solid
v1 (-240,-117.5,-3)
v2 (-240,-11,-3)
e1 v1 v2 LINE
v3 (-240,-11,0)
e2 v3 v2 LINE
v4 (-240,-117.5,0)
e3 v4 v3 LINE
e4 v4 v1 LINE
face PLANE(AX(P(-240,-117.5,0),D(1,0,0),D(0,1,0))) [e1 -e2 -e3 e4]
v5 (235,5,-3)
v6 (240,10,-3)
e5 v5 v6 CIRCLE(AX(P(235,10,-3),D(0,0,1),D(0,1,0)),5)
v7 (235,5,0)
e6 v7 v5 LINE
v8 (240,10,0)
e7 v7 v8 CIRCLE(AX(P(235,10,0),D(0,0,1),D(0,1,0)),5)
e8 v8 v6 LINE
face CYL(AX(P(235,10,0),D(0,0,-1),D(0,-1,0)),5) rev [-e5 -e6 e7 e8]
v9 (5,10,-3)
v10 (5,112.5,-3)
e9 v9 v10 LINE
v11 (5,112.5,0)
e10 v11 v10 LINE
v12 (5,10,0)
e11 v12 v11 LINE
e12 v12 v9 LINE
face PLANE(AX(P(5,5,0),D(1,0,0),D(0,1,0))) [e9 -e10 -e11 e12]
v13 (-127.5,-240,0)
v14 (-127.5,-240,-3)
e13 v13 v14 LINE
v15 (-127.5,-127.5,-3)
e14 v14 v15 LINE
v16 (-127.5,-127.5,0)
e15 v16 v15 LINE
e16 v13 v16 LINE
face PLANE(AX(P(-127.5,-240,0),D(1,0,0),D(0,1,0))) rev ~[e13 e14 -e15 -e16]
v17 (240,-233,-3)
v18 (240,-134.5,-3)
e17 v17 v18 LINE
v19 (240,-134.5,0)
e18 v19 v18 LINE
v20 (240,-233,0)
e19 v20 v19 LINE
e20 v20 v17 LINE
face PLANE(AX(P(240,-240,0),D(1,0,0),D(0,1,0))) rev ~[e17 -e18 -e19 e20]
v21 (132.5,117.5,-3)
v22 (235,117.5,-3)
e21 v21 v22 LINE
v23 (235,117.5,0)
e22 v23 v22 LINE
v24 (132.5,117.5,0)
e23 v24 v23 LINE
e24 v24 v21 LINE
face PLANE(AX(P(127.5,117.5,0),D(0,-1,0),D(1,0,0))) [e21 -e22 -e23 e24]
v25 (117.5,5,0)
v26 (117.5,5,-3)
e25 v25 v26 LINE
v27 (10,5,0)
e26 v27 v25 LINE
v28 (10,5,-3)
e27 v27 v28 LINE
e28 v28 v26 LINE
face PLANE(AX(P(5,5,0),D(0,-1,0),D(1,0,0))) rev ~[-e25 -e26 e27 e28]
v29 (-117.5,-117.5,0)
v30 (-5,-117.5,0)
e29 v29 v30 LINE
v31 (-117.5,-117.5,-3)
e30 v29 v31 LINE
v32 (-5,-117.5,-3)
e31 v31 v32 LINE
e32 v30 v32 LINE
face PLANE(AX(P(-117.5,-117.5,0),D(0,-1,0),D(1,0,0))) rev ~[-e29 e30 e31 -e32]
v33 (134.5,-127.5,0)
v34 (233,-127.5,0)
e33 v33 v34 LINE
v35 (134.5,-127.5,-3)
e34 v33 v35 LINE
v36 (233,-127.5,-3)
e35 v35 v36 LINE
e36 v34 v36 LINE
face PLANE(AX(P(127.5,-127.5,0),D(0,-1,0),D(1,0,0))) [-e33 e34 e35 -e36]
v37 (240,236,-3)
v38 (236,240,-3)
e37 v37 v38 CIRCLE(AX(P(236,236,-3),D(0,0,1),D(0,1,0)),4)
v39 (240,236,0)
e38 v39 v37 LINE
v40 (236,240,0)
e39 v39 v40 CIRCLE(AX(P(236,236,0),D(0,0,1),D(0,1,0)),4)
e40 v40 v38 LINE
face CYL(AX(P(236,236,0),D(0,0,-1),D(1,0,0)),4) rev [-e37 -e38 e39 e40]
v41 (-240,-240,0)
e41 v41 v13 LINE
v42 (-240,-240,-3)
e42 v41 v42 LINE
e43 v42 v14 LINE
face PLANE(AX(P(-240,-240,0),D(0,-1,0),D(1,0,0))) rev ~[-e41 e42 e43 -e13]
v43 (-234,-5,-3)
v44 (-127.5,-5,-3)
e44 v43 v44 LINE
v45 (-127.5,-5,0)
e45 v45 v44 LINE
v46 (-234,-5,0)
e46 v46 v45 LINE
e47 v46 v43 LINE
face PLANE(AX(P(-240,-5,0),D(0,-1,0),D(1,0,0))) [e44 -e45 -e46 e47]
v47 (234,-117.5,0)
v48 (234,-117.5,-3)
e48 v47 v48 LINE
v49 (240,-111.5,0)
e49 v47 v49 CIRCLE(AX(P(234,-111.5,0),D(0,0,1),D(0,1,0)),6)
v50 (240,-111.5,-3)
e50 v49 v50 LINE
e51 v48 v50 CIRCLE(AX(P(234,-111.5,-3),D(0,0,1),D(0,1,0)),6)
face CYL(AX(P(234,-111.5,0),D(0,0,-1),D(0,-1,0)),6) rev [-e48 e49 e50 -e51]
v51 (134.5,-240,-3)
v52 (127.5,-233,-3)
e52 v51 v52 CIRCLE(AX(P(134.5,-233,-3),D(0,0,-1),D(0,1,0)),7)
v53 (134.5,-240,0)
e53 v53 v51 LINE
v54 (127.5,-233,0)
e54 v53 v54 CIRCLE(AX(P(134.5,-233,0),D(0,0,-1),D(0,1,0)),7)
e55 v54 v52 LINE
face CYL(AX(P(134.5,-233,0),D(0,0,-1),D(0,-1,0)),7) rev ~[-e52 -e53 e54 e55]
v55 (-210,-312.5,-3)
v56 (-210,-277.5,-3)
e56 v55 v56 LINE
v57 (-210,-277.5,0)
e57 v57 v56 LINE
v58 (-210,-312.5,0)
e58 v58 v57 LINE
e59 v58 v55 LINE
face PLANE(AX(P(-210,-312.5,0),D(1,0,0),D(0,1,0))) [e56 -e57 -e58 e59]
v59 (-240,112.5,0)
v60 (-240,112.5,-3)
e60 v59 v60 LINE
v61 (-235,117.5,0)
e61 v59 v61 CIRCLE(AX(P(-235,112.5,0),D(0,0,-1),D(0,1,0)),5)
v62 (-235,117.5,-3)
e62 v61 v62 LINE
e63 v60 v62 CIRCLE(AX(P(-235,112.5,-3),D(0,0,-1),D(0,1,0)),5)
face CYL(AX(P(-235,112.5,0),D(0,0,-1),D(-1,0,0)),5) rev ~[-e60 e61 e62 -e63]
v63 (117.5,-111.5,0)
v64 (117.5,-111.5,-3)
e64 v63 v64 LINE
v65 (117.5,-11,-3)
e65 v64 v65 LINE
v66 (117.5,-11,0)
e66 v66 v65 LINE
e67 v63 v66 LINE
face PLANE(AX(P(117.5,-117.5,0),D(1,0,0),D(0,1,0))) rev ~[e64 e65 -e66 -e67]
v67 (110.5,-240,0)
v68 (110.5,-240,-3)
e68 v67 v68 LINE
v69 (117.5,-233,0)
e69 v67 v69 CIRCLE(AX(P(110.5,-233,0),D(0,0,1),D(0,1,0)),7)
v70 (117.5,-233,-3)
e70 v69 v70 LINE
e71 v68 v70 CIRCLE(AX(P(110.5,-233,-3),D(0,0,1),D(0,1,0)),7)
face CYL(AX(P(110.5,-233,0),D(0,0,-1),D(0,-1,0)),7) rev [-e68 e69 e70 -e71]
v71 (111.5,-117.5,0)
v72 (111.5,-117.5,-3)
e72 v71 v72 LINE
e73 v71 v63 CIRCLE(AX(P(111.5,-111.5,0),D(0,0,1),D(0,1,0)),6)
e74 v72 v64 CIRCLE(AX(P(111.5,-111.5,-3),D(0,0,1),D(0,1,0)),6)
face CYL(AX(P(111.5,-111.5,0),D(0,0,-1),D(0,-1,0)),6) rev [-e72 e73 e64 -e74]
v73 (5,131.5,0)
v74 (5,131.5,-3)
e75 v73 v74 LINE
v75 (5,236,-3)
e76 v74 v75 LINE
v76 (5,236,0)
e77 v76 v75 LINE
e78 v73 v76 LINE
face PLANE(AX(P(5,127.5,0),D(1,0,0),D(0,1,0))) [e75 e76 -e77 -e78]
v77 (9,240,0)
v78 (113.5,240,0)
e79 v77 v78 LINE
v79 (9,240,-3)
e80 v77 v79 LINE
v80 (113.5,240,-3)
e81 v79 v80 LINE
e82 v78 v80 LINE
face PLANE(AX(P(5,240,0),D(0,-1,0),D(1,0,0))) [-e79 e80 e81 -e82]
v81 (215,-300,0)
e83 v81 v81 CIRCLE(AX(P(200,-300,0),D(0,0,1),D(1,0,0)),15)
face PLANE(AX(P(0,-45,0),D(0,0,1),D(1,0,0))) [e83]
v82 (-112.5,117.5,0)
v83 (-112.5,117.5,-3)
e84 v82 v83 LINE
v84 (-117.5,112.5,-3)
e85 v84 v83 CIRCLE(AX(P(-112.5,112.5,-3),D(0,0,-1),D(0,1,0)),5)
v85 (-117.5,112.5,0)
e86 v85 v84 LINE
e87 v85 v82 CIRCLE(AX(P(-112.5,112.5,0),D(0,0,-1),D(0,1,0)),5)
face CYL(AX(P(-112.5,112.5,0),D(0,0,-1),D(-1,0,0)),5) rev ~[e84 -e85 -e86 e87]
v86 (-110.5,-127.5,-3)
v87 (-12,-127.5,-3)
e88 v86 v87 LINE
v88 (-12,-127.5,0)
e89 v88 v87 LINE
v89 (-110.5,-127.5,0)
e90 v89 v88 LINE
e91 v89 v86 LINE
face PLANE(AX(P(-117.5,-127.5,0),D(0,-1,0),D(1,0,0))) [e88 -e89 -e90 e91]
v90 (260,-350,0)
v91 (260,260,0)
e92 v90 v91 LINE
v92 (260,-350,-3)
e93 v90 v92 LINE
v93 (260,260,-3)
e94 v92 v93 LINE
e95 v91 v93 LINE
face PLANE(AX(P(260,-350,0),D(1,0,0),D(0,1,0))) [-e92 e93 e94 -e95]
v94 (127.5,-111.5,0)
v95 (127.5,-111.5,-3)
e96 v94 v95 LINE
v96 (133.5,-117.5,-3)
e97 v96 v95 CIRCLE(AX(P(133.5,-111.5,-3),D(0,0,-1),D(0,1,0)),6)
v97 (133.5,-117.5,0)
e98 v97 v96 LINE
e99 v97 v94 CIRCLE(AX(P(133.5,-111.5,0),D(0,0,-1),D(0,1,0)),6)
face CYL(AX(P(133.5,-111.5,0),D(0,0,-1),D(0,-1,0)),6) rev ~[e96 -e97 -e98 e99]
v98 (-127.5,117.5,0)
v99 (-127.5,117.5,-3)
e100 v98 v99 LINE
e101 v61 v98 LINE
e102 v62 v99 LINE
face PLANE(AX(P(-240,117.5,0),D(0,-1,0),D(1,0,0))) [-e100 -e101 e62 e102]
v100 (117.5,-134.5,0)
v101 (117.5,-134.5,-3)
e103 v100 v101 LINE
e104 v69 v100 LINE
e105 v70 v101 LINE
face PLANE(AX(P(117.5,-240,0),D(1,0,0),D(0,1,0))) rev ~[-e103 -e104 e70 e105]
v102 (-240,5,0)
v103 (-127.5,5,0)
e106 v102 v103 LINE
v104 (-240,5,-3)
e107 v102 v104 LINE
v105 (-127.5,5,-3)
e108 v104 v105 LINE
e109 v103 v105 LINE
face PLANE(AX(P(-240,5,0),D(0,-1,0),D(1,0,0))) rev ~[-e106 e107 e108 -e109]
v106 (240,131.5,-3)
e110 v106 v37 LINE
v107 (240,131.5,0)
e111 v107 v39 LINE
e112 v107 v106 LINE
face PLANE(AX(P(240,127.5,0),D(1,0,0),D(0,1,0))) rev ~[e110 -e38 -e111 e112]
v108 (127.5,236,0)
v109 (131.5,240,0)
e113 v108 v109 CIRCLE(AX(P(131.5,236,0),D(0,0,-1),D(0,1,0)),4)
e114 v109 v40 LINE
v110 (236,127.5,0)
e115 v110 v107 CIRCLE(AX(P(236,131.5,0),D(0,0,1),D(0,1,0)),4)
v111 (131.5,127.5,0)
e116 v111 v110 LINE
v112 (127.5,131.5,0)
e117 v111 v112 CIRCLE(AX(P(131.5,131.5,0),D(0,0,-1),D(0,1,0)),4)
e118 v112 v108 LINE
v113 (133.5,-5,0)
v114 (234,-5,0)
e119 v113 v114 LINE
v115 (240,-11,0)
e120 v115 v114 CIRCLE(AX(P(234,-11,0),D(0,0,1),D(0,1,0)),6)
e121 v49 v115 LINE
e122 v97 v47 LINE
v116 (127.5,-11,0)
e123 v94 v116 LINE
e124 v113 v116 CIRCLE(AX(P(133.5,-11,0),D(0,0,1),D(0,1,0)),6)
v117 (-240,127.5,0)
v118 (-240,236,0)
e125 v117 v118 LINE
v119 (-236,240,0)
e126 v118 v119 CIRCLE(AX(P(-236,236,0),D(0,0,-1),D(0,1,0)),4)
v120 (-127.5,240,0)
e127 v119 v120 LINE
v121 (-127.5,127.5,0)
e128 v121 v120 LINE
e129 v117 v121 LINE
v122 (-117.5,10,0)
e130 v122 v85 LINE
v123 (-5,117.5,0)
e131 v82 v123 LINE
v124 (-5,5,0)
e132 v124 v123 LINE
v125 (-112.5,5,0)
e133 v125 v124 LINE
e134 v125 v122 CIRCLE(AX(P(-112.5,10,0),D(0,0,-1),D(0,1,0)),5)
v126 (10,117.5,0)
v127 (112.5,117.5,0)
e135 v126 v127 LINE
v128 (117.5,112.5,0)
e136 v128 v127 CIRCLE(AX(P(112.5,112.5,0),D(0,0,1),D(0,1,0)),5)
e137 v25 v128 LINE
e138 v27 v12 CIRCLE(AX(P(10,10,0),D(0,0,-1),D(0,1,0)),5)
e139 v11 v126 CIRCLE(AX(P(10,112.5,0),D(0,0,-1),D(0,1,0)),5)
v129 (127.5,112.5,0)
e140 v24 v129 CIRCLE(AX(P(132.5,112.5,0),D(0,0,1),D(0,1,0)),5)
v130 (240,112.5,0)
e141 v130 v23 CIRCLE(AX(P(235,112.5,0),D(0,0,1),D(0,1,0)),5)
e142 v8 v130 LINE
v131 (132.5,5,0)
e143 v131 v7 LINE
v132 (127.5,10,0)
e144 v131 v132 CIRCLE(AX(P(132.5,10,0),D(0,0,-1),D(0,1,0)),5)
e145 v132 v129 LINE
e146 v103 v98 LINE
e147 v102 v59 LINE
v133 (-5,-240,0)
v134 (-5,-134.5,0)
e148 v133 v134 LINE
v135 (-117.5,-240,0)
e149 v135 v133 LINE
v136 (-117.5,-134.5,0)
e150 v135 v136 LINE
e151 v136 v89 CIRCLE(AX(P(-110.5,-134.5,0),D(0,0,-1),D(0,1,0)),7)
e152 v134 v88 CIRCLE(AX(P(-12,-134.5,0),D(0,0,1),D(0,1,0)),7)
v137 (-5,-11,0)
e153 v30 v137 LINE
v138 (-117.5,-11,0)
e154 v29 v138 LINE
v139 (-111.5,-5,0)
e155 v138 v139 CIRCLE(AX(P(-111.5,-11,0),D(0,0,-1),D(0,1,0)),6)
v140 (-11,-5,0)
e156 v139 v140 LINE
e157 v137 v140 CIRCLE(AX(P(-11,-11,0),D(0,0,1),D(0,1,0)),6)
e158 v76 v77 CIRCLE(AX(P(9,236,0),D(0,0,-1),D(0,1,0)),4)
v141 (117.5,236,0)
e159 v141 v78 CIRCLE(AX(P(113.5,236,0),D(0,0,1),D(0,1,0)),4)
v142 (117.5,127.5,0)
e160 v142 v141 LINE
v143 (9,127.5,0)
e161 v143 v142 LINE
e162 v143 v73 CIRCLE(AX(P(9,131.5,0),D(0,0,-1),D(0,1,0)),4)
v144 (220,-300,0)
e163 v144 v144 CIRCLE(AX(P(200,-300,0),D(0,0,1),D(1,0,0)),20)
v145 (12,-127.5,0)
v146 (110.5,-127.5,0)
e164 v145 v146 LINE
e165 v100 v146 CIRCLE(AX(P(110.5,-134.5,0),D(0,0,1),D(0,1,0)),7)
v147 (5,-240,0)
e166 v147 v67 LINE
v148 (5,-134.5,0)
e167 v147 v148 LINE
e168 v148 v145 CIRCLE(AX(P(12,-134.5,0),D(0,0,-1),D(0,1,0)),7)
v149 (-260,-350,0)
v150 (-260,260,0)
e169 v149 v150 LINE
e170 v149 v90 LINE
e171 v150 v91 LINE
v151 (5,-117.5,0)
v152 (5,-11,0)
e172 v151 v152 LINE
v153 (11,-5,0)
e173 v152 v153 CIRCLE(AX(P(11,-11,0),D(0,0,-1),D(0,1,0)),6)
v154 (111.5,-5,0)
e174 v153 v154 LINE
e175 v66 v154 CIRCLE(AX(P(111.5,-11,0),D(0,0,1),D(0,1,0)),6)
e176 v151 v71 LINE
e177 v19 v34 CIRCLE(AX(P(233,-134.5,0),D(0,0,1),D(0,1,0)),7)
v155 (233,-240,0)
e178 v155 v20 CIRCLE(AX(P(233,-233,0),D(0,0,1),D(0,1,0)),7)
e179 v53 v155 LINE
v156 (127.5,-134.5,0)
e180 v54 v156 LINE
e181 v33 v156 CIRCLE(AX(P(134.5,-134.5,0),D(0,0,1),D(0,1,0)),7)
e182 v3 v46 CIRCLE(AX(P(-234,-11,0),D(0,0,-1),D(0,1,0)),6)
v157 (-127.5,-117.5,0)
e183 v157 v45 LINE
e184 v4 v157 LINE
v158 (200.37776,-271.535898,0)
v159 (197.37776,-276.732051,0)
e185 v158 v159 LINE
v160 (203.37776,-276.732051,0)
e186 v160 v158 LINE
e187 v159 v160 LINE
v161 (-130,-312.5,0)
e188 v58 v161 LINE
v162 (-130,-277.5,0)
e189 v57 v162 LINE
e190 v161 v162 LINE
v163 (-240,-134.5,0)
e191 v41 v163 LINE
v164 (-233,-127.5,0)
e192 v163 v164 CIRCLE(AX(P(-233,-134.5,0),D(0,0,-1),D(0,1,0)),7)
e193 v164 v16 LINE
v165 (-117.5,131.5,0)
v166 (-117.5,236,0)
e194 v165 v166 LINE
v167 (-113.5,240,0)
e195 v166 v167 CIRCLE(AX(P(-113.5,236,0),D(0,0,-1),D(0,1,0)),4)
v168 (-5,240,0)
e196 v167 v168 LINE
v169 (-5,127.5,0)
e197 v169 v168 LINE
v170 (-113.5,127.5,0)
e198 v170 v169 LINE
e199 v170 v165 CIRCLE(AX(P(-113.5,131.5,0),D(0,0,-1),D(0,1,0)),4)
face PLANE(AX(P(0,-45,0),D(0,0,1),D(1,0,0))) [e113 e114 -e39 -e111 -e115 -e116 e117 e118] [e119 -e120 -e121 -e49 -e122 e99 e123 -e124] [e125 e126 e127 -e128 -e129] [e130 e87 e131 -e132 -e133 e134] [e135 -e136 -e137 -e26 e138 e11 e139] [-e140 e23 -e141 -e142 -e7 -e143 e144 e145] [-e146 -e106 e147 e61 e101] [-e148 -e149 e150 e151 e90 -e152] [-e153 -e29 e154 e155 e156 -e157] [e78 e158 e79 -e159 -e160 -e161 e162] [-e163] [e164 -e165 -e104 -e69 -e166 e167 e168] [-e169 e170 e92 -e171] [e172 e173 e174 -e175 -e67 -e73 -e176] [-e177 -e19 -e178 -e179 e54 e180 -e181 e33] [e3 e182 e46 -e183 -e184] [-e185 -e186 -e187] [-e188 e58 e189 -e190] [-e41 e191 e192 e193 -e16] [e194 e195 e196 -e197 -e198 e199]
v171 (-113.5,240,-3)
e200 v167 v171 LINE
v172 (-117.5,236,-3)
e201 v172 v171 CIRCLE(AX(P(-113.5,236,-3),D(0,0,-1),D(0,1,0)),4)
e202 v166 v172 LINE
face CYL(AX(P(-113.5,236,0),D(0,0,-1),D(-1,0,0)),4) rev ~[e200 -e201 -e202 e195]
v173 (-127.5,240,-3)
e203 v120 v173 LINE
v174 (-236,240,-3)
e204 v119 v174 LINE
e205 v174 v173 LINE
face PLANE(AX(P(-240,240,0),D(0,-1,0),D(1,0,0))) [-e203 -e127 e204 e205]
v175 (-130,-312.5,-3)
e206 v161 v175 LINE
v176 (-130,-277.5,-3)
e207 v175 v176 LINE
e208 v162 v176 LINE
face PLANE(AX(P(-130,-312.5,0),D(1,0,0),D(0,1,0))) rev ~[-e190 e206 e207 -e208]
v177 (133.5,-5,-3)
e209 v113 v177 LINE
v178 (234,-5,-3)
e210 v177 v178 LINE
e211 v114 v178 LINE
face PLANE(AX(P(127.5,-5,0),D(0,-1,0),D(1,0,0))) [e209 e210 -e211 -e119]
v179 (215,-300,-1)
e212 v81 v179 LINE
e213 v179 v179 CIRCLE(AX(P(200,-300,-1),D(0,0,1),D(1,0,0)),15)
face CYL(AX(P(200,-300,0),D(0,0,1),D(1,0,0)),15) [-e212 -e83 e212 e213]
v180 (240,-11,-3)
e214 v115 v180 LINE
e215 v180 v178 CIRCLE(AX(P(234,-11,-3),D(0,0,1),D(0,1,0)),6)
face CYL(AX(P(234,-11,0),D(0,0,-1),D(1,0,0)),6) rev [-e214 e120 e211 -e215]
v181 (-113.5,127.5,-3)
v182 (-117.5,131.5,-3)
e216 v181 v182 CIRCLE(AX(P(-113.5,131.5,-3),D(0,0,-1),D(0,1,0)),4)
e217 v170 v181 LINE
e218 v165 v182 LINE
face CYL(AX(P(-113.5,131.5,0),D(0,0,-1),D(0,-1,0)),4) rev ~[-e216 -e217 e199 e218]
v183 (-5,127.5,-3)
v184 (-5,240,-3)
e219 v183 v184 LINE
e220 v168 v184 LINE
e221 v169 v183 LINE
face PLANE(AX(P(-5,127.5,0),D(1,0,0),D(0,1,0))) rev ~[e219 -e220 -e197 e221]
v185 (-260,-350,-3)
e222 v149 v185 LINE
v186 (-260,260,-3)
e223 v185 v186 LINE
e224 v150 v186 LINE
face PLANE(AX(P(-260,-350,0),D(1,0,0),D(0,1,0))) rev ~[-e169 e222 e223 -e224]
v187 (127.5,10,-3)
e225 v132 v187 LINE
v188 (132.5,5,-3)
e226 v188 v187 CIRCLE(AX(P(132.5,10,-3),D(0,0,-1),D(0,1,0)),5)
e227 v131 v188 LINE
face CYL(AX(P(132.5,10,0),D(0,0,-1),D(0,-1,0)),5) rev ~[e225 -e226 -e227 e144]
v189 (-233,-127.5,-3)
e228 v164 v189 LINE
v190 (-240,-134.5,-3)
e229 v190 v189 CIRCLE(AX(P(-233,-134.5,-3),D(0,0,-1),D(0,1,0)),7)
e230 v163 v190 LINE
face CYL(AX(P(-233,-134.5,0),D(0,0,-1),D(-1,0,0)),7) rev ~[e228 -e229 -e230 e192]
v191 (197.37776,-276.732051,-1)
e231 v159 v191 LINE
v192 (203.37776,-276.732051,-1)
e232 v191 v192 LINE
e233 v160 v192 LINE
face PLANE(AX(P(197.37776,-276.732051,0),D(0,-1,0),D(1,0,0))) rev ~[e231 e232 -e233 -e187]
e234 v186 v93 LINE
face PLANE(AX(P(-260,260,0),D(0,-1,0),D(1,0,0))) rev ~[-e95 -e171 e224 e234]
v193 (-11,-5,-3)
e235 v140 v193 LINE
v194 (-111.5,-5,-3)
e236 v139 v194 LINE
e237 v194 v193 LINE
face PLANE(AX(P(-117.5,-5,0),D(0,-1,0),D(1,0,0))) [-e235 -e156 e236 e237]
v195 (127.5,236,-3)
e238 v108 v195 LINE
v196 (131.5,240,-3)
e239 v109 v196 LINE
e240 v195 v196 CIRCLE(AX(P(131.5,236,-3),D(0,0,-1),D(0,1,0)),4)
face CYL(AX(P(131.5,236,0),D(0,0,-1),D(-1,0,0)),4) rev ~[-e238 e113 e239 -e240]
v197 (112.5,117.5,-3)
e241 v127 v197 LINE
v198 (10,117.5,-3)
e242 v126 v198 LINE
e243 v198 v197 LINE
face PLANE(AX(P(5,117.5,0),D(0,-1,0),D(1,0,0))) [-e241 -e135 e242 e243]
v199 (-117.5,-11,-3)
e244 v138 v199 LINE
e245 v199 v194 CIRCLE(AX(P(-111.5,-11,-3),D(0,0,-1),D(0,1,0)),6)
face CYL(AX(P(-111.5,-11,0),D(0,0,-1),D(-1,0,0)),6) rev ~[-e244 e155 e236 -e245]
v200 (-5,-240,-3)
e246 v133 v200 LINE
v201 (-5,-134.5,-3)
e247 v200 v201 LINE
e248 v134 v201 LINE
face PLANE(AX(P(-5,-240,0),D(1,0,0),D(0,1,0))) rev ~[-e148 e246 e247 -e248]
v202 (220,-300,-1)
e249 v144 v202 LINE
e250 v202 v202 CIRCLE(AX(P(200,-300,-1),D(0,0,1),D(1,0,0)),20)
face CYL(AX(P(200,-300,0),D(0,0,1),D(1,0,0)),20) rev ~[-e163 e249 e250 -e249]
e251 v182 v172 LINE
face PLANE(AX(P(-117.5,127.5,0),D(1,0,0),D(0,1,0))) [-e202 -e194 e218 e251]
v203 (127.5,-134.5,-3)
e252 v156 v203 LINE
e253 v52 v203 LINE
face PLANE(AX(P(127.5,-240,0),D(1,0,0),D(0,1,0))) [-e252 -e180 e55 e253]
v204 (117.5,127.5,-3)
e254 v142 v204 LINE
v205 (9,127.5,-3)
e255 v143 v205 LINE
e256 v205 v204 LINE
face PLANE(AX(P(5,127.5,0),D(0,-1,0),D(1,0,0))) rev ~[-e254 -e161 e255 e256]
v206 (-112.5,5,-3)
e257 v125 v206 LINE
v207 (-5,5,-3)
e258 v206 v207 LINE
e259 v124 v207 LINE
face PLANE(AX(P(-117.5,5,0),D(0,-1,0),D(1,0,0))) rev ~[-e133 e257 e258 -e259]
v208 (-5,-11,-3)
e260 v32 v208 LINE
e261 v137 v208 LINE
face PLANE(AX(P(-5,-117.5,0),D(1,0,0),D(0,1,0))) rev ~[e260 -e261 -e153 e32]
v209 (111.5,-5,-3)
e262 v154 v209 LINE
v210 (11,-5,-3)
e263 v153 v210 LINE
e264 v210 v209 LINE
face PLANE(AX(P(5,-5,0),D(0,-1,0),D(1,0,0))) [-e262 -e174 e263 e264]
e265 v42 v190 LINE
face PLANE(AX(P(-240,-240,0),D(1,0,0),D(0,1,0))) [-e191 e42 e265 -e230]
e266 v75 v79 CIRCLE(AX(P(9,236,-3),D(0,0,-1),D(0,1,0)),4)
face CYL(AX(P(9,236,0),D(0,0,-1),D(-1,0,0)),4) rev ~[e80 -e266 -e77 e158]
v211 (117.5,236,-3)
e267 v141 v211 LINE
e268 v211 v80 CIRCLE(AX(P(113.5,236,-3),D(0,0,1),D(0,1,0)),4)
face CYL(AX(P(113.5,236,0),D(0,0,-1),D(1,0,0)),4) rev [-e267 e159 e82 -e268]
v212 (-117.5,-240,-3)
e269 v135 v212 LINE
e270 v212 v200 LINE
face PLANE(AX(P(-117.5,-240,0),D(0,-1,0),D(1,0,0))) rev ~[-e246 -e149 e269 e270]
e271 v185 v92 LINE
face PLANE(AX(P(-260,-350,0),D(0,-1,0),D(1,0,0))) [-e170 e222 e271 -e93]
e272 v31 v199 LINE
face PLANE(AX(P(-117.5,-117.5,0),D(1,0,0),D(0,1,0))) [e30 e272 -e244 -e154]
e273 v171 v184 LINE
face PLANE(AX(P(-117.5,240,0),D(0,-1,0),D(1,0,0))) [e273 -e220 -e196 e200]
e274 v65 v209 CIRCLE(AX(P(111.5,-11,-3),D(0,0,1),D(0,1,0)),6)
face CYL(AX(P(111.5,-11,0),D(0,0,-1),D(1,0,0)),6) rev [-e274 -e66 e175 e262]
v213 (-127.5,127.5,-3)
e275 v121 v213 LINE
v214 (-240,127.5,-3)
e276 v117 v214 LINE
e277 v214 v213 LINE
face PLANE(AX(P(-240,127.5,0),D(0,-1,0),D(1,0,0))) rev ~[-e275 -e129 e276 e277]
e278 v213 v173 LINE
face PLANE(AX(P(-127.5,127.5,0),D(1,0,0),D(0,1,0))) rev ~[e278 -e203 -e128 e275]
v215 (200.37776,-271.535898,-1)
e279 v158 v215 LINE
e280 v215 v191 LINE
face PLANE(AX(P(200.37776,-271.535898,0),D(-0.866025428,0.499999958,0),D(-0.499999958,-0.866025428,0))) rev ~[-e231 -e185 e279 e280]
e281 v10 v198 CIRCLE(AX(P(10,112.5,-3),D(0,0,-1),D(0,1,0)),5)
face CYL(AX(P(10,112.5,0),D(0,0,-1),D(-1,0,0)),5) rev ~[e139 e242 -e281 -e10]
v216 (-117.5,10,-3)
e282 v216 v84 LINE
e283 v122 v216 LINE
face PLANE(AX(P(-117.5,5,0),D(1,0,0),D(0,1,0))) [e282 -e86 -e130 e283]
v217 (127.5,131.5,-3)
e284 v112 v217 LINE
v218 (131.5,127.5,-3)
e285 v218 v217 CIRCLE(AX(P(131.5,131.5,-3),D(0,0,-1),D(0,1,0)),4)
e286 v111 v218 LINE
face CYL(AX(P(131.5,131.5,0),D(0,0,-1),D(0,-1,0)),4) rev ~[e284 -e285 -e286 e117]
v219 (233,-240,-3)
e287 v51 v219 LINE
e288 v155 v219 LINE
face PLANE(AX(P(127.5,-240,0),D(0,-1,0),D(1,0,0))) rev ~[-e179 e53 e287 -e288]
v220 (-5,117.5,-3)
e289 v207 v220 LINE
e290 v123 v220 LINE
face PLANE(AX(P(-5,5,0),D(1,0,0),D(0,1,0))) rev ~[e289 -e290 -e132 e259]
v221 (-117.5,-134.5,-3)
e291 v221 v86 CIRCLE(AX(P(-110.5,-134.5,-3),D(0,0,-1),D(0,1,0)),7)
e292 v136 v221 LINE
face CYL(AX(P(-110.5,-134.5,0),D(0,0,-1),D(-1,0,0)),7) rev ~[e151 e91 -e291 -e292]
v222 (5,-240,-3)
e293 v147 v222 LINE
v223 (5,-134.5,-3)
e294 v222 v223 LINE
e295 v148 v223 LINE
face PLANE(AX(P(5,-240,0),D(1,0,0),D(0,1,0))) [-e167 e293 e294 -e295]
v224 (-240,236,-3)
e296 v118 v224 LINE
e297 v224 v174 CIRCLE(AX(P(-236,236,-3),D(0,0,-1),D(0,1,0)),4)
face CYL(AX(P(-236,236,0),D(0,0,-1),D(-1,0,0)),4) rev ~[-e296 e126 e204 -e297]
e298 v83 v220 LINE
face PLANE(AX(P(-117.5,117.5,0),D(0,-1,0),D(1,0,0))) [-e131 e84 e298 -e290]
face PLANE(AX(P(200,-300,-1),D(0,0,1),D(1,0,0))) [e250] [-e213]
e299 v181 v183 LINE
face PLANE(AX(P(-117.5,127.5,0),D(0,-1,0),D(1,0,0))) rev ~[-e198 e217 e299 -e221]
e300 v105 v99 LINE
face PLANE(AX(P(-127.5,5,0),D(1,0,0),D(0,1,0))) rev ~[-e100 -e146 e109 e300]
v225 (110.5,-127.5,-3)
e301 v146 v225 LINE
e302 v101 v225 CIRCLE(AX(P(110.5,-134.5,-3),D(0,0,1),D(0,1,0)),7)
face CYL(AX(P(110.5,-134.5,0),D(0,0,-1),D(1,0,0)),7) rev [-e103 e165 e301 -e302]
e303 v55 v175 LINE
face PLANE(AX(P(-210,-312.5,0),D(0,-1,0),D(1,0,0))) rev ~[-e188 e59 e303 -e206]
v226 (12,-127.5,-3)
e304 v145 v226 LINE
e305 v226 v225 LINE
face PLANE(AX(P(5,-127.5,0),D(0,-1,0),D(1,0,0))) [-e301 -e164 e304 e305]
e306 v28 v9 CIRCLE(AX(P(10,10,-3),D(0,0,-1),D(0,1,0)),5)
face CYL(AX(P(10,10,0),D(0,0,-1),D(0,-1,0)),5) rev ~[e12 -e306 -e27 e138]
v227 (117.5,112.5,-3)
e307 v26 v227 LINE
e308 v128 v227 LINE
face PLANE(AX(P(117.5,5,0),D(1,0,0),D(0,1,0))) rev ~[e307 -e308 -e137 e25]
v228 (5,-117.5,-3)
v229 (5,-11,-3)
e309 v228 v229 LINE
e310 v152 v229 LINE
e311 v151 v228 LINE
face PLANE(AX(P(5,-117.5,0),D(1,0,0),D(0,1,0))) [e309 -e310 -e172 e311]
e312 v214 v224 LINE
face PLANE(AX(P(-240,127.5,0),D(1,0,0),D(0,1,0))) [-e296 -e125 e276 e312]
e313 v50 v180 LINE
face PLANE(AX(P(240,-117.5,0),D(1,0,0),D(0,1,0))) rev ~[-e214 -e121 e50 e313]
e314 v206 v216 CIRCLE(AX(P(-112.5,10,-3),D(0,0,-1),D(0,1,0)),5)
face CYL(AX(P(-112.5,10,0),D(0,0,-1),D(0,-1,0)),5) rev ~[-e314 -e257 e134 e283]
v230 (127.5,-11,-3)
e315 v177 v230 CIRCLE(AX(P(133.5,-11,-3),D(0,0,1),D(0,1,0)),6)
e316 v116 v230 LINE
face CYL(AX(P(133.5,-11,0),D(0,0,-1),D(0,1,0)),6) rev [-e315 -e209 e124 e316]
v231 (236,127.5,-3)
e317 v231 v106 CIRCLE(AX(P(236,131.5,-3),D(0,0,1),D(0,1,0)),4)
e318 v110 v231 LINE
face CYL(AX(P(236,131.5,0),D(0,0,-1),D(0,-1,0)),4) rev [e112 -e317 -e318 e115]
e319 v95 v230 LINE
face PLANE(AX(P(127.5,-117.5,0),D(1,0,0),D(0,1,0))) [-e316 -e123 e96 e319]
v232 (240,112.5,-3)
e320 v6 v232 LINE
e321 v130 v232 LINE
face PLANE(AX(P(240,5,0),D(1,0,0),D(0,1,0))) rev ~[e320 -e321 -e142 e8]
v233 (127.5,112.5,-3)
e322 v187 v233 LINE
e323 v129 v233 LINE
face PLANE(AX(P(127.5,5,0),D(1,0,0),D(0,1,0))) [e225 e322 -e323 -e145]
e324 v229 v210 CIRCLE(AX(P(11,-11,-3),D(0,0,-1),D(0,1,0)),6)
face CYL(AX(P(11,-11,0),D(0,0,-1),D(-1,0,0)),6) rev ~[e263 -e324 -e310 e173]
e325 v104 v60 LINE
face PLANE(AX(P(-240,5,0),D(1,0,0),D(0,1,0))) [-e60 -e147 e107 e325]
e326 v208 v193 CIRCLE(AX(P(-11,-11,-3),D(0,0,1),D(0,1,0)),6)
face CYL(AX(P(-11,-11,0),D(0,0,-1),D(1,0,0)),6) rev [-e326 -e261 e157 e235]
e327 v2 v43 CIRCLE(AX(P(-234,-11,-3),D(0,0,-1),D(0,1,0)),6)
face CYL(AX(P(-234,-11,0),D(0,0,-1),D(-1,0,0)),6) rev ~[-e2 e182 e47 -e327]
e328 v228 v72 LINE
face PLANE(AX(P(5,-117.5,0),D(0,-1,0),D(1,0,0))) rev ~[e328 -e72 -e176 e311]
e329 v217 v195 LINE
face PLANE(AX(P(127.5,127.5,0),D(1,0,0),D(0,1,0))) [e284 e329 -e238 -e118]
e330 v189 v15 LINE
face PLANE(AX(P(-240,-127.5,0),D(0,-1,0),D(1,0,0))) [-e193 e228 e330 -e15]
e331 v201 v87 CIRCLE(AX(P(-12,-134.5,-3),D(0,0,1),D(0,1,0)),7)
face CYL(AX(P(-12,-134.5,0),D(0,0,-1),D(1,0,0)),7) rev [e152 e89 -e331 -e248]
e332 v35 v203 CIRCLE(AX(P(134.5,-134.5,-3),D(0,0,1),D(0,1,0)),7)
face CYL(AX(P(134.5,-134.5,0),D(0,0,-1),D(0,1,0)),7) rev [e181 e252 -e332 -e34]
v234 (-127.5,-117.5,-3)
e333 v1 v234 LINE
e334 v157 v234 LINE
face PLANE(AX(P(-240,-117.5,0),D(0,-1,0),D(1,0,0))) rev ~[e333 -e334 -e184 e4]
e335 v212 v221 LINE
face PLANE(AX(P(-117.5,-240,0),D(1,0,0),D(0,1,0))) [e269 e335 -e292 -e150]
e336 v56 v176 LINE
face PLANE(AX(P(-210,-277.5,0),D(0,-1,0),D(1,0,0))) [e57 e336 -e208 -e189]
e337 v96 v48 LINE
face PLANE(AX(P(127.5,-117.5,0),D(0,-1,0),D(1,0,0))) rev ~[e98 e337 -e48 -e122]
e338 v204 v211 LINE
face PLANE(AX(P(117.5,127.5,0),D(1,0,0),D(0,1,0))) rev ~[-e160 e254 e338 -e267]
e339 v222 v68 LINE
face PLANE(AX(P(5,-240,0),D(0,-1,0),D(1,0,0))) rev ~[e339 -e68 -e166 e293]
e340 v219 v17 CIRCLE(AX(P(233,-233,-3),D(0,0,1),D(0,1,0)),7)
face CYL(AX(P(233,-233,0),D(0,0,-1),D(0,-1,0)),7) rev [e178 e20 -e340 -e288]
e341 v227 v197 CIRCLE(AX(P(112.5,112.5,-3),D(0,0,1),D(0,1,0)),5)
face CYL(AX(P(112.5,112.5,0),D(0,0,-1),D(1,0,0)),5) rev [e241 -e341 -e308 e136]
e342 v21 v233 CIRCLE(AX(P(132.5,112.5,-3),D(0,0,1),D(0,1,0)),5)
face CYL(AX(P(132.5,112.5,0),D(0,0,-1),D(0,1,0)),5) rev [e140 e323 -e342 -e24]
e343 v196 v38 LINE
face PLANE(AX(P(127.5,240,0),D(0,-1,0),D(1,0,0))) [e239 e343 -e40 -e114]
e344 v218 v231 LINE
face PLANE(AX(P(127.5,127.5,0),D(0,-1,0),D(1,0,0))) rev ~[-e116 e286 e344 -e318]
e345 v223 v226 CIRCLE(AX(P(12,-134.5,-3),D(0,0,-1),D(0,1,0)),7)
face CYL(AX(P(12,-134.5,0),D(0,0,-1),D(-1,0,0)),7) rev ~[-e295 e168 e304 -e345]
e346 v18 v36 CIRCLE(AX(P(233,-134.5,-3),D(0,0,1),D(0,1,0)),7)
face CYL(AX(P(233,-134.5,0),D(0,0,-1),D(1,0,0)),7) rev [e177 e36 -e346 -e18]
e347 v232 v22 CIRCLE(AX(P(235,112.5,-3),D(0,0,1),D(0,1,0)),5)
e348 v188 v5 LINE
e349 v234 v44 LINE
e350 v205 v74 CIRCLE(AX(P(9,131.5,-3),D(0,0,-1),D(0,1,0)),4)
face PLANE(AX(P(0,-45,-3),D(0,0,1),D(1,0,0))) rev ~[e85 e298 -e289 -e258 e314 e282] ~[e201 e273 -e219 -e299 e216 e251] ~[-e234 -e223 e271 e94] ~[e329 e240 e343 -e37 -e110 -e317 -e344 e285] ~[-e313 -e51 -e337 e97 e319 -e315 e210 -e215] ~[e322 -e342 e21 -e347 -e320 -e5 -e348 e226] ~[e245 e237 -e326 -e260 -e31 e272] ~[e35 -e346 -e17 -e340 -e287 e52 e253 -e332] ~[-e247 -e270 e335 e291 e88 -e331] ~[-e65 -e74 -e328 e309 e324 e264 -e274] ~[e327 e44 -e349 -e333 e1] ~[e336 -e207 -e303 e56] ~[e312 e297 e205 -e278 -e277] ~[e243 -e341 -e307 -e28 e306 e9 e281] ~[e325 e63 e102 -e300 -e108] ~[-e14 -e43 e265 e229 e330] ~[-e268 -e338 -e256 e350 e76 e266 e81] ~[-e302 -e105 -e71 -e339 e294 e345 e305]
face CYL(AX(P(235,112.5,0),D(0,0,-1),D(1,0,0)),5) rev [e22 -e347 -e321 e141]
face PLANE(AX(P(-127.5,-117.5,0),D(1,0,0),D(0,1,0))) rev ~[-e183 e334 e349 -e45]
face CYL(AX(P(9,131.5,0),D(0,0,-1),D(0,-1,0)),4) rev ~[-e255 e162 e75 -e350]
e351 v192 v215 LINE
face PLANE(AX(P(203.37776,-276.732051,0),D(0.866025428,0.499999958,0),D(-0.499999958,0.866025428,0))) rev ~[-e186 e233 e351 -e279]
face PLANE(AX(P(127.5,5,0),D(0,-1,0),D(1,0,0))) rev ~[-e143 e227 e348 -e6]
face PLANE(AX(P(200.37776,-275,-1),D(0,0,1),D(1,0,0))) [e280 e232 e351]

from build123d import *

# Parameters (mm, degrees)
SKETCH_W                     = 520
SKETCH_H                     = 610
PAD_DEPTH                    = 3
SKETCH001_W                  = 112.5
SKETCH001_H                  = 112.5
POCKET_DEPTH                 = 5
SKETCH001_LINEARPATTERN_2_W  = 112.5
SKETCH001_LINEARPATTERN_2_H  = 112.5
POCKET_LINEARPATTERN_2_DEPTH = 5
SKETCH001_LINEARPATTERN_3_W  = 112.5
SKETCH001_LINEARPATTERN_3_H  = 112.5
POCKET_LINEARPATTERN_3_DEPTH = 5
SKETCH001_LINEARPATTERN_4_W  = 112.5
SKETCH001_LINEARPATTERN_4_H  = 112.5
POCKET_LINEARPATTERN_4_DEPTH = 5
LINEARPATTERN001_COUNT       = 4
LINEARPATTERN001_PITCH       = 122.5
FILLET_R                     = 4
FILLET001_R                  = 5
FILLET002_R                  = 6
FILLET003_R                  = 7
SKETCH002_R                  = 20
SKETCH002_R_2                = 15
POCKET001_DEPTH              = 1
SKETCH003_W                  = 80
SKETCH003_H                  = 35
POCKET002_DEPTH              = 5


with BuildPart() as part:
    # Sketch → Pad (new body)
    with BuildSketch(Plane.XY):
        with Locations((0, -45)):
            Rectangle(SKETCH_W, SKETCH_H)
    extrude(amount=-PAD_DEPTH)

    # Sketch001 (on Face5 of Pad) → Pocket (cut)
    with BuildSketch(Plane.XY):
        with Locations((-183.75, 183.75)):
            Rectangle(SKETCH001_W, SKETCH001_H)
    pocket = extrude(amount=-POCKET_DEPTH, mode=Mode.SUBTRACT)

    # Sketch001 LinearPattern 2 → Pocket LinearPattern 2 (cut)
    with BuildSketch(Plane(origin=(122.5, 0, 0), x_dir=(1, 0, 0), z_dir=(0, 0, 1))):
        with Locations((-183.75, 183.75)):
            Rectangle(SKETCH001_LINEARPATTERN_2_W, SKETCH001_LINEARPATTERN_2_H)
    pocket_linearpattern_2 = extrude(amount=-POCKET_LINEARPATTERN_2_DEPTH, mode=Mode.SUBTRACT)

    # Sketch001 LinearPattern 3 → Pocket LinearPattern 3 (cut)
    with BuildSketch(Plane(origin=(245, 0, 0), x_dir=(1, 0, 0), z_dir=(0, 0, 1))):
        with Locations((-183.75, 183.75)):
            Rectangle(SKETCH001_LINEARPATTERN_3_W, SKETCH001_LINEARPATTERN_3_H)
    pocket_linearpattern_3 = extrude(amount=-POCKET_LINEARPATTERN_3_DEPTH, mode=Mode.SUBTRACT)

    # Sketch001 LinearPattern 4 → Pocket LinearPattern 4 (cut)
    with BuildSketch(Plane(origin=(367.5, 0, 0), x_dir=(1, 0, 0), z_dir=(0, 0, 1))):
        with Locations((-183.75, 183.75)):
            Rectangle(SKETCH001_LINEARPATTERN_4_W, SKETCH001_LINEARPATTERN_4_H)
    pocket_linearpattern_4 = extrude(amount=-POCKET_LINEARPATTERN_4_DEPTH, mode=Mode.SUBTRACT)

    # LinearPattern001: Pocket, Pocket LinearPattern 2, Pocket LinearPattern 3, Pocket LinearPattern 4 ×4
    with Locations(*[(0, -i * LINEARPATTERN001_PITCH, 0) for i in range(1, LINEARPATTERN001_COUNT)]):
        add(pocket, mode=Mode.SUBTRACT)
        add(pocket_linearpattern_2, mode=Mode.SUBTRACT)
        add(pocket_linearpattern_3, mode=Mode.SUBTRACT)
        add(pocket_linearpattern_4, mode=Mode.SUBTRACT)

    # Fillet
    fillet_edges = [part.edges().sort_by_distance(p)[0] for p in [
        (-240, 240, -1.5),
        (-117.5, 240, -1.5),
        (-117.5, 127.5, -1.5),
        (5, 240, -1.5),
        (117.5, 240, -1.5),
        (5, 127.5, -1.5),
        (127.5, 127.5, -1.5),
        (127.5, 240, -1.5),
        (240, 240, -1.5),
        (240, 127.5, -1.5),
    ]]
    fillet(fillet_edges, radius=FILLET_R)

    # Fillet001
    fillet001_edges = [part.edges().sort_by_distance(p)[0] for p in [
        (-240, 117.5, -1.5),
        (-117.5, 117.5, -1.5),
        (5, 117.5, -1.5),
        (127.5, 117.5, -1.5),
        (240, 117.5, -1.5),
        (240, 5, -1.5),
        (127.5, 5, -1.5),
        (117.5, 117.5, -1.5),
        (5, 5, -1.5),
        (-117.5, 5, -1.5),
    ]]
    fillet(fillet001_edges, radius=FILLET001_R)

    # Fillet002
    fillet002_edges = [part.edges().sort_by_distance(p)[0] for p in [
        (-240, -5, -1.5),
        (-117.5, -5, -1.5),
        (5, -5, -1.5),
        (127.5, -5, -1.5),
        (240, -5, -1.5),
        (240, -117.5, -1.5),
        (127.5, -117.5, -1.5),
        (117.5, -5, -1.5),
        (117.5, -117.5, -1.5),
        (-5, -5, -1.5),
    ]]
    fillet(fillet002_edges, radius=FILLET002_R)

    # Fillet003
    fillet003_edges = [part.edges().sort_by_distance(p)[0] for p in [
        (-240, -127.5, -1.5),
        (-117.5, -127.5, -1.5),
        (5, -127.5, -1.5),
        (127.5, -127.5, -1.5),
        (240, -127.5, -1.5),
        (240, -240, -1.5),
        (127.5, -240, -1.5),
        (117.5, -127.5, -1.5),
        (117.5, -240, -1.5),
        (-5, -127.5, -1.5),
    ]]
    fillet(fillet003_edges, radius=FILLET003_R)

    # Sketch002 (on Face1 of Fillet003) → Pocket001 (cut)
    with BuildSketch(Plane.XY):
        with Locations((200, -300)):
            Circle(SKETCH002_R)
        with Locations((200, -300)):
            Circle(SKETCH002_R_2, mode=Mode.SUBTRACT)
        Polygon((200.37776, -271.535898), (197.37776, -276.732051), (203.37776, -276.732051), align=None)
    extrude(amount=-POCKET001_DEPTH, mode=Mode.SUBTRACT)

    # Sketch003 (on Face1 of Pocket001) → Pocket002 (cut)
    with BuildSketch(Plane.XY):
        with Locations((-170, -295)):
            Rectangle(SKETCH003_W, SKETCH003_H)
    extrude(amount=-POCKET002_DEPTH, mode=Mode.SUBTRACT)


solid = part.part
